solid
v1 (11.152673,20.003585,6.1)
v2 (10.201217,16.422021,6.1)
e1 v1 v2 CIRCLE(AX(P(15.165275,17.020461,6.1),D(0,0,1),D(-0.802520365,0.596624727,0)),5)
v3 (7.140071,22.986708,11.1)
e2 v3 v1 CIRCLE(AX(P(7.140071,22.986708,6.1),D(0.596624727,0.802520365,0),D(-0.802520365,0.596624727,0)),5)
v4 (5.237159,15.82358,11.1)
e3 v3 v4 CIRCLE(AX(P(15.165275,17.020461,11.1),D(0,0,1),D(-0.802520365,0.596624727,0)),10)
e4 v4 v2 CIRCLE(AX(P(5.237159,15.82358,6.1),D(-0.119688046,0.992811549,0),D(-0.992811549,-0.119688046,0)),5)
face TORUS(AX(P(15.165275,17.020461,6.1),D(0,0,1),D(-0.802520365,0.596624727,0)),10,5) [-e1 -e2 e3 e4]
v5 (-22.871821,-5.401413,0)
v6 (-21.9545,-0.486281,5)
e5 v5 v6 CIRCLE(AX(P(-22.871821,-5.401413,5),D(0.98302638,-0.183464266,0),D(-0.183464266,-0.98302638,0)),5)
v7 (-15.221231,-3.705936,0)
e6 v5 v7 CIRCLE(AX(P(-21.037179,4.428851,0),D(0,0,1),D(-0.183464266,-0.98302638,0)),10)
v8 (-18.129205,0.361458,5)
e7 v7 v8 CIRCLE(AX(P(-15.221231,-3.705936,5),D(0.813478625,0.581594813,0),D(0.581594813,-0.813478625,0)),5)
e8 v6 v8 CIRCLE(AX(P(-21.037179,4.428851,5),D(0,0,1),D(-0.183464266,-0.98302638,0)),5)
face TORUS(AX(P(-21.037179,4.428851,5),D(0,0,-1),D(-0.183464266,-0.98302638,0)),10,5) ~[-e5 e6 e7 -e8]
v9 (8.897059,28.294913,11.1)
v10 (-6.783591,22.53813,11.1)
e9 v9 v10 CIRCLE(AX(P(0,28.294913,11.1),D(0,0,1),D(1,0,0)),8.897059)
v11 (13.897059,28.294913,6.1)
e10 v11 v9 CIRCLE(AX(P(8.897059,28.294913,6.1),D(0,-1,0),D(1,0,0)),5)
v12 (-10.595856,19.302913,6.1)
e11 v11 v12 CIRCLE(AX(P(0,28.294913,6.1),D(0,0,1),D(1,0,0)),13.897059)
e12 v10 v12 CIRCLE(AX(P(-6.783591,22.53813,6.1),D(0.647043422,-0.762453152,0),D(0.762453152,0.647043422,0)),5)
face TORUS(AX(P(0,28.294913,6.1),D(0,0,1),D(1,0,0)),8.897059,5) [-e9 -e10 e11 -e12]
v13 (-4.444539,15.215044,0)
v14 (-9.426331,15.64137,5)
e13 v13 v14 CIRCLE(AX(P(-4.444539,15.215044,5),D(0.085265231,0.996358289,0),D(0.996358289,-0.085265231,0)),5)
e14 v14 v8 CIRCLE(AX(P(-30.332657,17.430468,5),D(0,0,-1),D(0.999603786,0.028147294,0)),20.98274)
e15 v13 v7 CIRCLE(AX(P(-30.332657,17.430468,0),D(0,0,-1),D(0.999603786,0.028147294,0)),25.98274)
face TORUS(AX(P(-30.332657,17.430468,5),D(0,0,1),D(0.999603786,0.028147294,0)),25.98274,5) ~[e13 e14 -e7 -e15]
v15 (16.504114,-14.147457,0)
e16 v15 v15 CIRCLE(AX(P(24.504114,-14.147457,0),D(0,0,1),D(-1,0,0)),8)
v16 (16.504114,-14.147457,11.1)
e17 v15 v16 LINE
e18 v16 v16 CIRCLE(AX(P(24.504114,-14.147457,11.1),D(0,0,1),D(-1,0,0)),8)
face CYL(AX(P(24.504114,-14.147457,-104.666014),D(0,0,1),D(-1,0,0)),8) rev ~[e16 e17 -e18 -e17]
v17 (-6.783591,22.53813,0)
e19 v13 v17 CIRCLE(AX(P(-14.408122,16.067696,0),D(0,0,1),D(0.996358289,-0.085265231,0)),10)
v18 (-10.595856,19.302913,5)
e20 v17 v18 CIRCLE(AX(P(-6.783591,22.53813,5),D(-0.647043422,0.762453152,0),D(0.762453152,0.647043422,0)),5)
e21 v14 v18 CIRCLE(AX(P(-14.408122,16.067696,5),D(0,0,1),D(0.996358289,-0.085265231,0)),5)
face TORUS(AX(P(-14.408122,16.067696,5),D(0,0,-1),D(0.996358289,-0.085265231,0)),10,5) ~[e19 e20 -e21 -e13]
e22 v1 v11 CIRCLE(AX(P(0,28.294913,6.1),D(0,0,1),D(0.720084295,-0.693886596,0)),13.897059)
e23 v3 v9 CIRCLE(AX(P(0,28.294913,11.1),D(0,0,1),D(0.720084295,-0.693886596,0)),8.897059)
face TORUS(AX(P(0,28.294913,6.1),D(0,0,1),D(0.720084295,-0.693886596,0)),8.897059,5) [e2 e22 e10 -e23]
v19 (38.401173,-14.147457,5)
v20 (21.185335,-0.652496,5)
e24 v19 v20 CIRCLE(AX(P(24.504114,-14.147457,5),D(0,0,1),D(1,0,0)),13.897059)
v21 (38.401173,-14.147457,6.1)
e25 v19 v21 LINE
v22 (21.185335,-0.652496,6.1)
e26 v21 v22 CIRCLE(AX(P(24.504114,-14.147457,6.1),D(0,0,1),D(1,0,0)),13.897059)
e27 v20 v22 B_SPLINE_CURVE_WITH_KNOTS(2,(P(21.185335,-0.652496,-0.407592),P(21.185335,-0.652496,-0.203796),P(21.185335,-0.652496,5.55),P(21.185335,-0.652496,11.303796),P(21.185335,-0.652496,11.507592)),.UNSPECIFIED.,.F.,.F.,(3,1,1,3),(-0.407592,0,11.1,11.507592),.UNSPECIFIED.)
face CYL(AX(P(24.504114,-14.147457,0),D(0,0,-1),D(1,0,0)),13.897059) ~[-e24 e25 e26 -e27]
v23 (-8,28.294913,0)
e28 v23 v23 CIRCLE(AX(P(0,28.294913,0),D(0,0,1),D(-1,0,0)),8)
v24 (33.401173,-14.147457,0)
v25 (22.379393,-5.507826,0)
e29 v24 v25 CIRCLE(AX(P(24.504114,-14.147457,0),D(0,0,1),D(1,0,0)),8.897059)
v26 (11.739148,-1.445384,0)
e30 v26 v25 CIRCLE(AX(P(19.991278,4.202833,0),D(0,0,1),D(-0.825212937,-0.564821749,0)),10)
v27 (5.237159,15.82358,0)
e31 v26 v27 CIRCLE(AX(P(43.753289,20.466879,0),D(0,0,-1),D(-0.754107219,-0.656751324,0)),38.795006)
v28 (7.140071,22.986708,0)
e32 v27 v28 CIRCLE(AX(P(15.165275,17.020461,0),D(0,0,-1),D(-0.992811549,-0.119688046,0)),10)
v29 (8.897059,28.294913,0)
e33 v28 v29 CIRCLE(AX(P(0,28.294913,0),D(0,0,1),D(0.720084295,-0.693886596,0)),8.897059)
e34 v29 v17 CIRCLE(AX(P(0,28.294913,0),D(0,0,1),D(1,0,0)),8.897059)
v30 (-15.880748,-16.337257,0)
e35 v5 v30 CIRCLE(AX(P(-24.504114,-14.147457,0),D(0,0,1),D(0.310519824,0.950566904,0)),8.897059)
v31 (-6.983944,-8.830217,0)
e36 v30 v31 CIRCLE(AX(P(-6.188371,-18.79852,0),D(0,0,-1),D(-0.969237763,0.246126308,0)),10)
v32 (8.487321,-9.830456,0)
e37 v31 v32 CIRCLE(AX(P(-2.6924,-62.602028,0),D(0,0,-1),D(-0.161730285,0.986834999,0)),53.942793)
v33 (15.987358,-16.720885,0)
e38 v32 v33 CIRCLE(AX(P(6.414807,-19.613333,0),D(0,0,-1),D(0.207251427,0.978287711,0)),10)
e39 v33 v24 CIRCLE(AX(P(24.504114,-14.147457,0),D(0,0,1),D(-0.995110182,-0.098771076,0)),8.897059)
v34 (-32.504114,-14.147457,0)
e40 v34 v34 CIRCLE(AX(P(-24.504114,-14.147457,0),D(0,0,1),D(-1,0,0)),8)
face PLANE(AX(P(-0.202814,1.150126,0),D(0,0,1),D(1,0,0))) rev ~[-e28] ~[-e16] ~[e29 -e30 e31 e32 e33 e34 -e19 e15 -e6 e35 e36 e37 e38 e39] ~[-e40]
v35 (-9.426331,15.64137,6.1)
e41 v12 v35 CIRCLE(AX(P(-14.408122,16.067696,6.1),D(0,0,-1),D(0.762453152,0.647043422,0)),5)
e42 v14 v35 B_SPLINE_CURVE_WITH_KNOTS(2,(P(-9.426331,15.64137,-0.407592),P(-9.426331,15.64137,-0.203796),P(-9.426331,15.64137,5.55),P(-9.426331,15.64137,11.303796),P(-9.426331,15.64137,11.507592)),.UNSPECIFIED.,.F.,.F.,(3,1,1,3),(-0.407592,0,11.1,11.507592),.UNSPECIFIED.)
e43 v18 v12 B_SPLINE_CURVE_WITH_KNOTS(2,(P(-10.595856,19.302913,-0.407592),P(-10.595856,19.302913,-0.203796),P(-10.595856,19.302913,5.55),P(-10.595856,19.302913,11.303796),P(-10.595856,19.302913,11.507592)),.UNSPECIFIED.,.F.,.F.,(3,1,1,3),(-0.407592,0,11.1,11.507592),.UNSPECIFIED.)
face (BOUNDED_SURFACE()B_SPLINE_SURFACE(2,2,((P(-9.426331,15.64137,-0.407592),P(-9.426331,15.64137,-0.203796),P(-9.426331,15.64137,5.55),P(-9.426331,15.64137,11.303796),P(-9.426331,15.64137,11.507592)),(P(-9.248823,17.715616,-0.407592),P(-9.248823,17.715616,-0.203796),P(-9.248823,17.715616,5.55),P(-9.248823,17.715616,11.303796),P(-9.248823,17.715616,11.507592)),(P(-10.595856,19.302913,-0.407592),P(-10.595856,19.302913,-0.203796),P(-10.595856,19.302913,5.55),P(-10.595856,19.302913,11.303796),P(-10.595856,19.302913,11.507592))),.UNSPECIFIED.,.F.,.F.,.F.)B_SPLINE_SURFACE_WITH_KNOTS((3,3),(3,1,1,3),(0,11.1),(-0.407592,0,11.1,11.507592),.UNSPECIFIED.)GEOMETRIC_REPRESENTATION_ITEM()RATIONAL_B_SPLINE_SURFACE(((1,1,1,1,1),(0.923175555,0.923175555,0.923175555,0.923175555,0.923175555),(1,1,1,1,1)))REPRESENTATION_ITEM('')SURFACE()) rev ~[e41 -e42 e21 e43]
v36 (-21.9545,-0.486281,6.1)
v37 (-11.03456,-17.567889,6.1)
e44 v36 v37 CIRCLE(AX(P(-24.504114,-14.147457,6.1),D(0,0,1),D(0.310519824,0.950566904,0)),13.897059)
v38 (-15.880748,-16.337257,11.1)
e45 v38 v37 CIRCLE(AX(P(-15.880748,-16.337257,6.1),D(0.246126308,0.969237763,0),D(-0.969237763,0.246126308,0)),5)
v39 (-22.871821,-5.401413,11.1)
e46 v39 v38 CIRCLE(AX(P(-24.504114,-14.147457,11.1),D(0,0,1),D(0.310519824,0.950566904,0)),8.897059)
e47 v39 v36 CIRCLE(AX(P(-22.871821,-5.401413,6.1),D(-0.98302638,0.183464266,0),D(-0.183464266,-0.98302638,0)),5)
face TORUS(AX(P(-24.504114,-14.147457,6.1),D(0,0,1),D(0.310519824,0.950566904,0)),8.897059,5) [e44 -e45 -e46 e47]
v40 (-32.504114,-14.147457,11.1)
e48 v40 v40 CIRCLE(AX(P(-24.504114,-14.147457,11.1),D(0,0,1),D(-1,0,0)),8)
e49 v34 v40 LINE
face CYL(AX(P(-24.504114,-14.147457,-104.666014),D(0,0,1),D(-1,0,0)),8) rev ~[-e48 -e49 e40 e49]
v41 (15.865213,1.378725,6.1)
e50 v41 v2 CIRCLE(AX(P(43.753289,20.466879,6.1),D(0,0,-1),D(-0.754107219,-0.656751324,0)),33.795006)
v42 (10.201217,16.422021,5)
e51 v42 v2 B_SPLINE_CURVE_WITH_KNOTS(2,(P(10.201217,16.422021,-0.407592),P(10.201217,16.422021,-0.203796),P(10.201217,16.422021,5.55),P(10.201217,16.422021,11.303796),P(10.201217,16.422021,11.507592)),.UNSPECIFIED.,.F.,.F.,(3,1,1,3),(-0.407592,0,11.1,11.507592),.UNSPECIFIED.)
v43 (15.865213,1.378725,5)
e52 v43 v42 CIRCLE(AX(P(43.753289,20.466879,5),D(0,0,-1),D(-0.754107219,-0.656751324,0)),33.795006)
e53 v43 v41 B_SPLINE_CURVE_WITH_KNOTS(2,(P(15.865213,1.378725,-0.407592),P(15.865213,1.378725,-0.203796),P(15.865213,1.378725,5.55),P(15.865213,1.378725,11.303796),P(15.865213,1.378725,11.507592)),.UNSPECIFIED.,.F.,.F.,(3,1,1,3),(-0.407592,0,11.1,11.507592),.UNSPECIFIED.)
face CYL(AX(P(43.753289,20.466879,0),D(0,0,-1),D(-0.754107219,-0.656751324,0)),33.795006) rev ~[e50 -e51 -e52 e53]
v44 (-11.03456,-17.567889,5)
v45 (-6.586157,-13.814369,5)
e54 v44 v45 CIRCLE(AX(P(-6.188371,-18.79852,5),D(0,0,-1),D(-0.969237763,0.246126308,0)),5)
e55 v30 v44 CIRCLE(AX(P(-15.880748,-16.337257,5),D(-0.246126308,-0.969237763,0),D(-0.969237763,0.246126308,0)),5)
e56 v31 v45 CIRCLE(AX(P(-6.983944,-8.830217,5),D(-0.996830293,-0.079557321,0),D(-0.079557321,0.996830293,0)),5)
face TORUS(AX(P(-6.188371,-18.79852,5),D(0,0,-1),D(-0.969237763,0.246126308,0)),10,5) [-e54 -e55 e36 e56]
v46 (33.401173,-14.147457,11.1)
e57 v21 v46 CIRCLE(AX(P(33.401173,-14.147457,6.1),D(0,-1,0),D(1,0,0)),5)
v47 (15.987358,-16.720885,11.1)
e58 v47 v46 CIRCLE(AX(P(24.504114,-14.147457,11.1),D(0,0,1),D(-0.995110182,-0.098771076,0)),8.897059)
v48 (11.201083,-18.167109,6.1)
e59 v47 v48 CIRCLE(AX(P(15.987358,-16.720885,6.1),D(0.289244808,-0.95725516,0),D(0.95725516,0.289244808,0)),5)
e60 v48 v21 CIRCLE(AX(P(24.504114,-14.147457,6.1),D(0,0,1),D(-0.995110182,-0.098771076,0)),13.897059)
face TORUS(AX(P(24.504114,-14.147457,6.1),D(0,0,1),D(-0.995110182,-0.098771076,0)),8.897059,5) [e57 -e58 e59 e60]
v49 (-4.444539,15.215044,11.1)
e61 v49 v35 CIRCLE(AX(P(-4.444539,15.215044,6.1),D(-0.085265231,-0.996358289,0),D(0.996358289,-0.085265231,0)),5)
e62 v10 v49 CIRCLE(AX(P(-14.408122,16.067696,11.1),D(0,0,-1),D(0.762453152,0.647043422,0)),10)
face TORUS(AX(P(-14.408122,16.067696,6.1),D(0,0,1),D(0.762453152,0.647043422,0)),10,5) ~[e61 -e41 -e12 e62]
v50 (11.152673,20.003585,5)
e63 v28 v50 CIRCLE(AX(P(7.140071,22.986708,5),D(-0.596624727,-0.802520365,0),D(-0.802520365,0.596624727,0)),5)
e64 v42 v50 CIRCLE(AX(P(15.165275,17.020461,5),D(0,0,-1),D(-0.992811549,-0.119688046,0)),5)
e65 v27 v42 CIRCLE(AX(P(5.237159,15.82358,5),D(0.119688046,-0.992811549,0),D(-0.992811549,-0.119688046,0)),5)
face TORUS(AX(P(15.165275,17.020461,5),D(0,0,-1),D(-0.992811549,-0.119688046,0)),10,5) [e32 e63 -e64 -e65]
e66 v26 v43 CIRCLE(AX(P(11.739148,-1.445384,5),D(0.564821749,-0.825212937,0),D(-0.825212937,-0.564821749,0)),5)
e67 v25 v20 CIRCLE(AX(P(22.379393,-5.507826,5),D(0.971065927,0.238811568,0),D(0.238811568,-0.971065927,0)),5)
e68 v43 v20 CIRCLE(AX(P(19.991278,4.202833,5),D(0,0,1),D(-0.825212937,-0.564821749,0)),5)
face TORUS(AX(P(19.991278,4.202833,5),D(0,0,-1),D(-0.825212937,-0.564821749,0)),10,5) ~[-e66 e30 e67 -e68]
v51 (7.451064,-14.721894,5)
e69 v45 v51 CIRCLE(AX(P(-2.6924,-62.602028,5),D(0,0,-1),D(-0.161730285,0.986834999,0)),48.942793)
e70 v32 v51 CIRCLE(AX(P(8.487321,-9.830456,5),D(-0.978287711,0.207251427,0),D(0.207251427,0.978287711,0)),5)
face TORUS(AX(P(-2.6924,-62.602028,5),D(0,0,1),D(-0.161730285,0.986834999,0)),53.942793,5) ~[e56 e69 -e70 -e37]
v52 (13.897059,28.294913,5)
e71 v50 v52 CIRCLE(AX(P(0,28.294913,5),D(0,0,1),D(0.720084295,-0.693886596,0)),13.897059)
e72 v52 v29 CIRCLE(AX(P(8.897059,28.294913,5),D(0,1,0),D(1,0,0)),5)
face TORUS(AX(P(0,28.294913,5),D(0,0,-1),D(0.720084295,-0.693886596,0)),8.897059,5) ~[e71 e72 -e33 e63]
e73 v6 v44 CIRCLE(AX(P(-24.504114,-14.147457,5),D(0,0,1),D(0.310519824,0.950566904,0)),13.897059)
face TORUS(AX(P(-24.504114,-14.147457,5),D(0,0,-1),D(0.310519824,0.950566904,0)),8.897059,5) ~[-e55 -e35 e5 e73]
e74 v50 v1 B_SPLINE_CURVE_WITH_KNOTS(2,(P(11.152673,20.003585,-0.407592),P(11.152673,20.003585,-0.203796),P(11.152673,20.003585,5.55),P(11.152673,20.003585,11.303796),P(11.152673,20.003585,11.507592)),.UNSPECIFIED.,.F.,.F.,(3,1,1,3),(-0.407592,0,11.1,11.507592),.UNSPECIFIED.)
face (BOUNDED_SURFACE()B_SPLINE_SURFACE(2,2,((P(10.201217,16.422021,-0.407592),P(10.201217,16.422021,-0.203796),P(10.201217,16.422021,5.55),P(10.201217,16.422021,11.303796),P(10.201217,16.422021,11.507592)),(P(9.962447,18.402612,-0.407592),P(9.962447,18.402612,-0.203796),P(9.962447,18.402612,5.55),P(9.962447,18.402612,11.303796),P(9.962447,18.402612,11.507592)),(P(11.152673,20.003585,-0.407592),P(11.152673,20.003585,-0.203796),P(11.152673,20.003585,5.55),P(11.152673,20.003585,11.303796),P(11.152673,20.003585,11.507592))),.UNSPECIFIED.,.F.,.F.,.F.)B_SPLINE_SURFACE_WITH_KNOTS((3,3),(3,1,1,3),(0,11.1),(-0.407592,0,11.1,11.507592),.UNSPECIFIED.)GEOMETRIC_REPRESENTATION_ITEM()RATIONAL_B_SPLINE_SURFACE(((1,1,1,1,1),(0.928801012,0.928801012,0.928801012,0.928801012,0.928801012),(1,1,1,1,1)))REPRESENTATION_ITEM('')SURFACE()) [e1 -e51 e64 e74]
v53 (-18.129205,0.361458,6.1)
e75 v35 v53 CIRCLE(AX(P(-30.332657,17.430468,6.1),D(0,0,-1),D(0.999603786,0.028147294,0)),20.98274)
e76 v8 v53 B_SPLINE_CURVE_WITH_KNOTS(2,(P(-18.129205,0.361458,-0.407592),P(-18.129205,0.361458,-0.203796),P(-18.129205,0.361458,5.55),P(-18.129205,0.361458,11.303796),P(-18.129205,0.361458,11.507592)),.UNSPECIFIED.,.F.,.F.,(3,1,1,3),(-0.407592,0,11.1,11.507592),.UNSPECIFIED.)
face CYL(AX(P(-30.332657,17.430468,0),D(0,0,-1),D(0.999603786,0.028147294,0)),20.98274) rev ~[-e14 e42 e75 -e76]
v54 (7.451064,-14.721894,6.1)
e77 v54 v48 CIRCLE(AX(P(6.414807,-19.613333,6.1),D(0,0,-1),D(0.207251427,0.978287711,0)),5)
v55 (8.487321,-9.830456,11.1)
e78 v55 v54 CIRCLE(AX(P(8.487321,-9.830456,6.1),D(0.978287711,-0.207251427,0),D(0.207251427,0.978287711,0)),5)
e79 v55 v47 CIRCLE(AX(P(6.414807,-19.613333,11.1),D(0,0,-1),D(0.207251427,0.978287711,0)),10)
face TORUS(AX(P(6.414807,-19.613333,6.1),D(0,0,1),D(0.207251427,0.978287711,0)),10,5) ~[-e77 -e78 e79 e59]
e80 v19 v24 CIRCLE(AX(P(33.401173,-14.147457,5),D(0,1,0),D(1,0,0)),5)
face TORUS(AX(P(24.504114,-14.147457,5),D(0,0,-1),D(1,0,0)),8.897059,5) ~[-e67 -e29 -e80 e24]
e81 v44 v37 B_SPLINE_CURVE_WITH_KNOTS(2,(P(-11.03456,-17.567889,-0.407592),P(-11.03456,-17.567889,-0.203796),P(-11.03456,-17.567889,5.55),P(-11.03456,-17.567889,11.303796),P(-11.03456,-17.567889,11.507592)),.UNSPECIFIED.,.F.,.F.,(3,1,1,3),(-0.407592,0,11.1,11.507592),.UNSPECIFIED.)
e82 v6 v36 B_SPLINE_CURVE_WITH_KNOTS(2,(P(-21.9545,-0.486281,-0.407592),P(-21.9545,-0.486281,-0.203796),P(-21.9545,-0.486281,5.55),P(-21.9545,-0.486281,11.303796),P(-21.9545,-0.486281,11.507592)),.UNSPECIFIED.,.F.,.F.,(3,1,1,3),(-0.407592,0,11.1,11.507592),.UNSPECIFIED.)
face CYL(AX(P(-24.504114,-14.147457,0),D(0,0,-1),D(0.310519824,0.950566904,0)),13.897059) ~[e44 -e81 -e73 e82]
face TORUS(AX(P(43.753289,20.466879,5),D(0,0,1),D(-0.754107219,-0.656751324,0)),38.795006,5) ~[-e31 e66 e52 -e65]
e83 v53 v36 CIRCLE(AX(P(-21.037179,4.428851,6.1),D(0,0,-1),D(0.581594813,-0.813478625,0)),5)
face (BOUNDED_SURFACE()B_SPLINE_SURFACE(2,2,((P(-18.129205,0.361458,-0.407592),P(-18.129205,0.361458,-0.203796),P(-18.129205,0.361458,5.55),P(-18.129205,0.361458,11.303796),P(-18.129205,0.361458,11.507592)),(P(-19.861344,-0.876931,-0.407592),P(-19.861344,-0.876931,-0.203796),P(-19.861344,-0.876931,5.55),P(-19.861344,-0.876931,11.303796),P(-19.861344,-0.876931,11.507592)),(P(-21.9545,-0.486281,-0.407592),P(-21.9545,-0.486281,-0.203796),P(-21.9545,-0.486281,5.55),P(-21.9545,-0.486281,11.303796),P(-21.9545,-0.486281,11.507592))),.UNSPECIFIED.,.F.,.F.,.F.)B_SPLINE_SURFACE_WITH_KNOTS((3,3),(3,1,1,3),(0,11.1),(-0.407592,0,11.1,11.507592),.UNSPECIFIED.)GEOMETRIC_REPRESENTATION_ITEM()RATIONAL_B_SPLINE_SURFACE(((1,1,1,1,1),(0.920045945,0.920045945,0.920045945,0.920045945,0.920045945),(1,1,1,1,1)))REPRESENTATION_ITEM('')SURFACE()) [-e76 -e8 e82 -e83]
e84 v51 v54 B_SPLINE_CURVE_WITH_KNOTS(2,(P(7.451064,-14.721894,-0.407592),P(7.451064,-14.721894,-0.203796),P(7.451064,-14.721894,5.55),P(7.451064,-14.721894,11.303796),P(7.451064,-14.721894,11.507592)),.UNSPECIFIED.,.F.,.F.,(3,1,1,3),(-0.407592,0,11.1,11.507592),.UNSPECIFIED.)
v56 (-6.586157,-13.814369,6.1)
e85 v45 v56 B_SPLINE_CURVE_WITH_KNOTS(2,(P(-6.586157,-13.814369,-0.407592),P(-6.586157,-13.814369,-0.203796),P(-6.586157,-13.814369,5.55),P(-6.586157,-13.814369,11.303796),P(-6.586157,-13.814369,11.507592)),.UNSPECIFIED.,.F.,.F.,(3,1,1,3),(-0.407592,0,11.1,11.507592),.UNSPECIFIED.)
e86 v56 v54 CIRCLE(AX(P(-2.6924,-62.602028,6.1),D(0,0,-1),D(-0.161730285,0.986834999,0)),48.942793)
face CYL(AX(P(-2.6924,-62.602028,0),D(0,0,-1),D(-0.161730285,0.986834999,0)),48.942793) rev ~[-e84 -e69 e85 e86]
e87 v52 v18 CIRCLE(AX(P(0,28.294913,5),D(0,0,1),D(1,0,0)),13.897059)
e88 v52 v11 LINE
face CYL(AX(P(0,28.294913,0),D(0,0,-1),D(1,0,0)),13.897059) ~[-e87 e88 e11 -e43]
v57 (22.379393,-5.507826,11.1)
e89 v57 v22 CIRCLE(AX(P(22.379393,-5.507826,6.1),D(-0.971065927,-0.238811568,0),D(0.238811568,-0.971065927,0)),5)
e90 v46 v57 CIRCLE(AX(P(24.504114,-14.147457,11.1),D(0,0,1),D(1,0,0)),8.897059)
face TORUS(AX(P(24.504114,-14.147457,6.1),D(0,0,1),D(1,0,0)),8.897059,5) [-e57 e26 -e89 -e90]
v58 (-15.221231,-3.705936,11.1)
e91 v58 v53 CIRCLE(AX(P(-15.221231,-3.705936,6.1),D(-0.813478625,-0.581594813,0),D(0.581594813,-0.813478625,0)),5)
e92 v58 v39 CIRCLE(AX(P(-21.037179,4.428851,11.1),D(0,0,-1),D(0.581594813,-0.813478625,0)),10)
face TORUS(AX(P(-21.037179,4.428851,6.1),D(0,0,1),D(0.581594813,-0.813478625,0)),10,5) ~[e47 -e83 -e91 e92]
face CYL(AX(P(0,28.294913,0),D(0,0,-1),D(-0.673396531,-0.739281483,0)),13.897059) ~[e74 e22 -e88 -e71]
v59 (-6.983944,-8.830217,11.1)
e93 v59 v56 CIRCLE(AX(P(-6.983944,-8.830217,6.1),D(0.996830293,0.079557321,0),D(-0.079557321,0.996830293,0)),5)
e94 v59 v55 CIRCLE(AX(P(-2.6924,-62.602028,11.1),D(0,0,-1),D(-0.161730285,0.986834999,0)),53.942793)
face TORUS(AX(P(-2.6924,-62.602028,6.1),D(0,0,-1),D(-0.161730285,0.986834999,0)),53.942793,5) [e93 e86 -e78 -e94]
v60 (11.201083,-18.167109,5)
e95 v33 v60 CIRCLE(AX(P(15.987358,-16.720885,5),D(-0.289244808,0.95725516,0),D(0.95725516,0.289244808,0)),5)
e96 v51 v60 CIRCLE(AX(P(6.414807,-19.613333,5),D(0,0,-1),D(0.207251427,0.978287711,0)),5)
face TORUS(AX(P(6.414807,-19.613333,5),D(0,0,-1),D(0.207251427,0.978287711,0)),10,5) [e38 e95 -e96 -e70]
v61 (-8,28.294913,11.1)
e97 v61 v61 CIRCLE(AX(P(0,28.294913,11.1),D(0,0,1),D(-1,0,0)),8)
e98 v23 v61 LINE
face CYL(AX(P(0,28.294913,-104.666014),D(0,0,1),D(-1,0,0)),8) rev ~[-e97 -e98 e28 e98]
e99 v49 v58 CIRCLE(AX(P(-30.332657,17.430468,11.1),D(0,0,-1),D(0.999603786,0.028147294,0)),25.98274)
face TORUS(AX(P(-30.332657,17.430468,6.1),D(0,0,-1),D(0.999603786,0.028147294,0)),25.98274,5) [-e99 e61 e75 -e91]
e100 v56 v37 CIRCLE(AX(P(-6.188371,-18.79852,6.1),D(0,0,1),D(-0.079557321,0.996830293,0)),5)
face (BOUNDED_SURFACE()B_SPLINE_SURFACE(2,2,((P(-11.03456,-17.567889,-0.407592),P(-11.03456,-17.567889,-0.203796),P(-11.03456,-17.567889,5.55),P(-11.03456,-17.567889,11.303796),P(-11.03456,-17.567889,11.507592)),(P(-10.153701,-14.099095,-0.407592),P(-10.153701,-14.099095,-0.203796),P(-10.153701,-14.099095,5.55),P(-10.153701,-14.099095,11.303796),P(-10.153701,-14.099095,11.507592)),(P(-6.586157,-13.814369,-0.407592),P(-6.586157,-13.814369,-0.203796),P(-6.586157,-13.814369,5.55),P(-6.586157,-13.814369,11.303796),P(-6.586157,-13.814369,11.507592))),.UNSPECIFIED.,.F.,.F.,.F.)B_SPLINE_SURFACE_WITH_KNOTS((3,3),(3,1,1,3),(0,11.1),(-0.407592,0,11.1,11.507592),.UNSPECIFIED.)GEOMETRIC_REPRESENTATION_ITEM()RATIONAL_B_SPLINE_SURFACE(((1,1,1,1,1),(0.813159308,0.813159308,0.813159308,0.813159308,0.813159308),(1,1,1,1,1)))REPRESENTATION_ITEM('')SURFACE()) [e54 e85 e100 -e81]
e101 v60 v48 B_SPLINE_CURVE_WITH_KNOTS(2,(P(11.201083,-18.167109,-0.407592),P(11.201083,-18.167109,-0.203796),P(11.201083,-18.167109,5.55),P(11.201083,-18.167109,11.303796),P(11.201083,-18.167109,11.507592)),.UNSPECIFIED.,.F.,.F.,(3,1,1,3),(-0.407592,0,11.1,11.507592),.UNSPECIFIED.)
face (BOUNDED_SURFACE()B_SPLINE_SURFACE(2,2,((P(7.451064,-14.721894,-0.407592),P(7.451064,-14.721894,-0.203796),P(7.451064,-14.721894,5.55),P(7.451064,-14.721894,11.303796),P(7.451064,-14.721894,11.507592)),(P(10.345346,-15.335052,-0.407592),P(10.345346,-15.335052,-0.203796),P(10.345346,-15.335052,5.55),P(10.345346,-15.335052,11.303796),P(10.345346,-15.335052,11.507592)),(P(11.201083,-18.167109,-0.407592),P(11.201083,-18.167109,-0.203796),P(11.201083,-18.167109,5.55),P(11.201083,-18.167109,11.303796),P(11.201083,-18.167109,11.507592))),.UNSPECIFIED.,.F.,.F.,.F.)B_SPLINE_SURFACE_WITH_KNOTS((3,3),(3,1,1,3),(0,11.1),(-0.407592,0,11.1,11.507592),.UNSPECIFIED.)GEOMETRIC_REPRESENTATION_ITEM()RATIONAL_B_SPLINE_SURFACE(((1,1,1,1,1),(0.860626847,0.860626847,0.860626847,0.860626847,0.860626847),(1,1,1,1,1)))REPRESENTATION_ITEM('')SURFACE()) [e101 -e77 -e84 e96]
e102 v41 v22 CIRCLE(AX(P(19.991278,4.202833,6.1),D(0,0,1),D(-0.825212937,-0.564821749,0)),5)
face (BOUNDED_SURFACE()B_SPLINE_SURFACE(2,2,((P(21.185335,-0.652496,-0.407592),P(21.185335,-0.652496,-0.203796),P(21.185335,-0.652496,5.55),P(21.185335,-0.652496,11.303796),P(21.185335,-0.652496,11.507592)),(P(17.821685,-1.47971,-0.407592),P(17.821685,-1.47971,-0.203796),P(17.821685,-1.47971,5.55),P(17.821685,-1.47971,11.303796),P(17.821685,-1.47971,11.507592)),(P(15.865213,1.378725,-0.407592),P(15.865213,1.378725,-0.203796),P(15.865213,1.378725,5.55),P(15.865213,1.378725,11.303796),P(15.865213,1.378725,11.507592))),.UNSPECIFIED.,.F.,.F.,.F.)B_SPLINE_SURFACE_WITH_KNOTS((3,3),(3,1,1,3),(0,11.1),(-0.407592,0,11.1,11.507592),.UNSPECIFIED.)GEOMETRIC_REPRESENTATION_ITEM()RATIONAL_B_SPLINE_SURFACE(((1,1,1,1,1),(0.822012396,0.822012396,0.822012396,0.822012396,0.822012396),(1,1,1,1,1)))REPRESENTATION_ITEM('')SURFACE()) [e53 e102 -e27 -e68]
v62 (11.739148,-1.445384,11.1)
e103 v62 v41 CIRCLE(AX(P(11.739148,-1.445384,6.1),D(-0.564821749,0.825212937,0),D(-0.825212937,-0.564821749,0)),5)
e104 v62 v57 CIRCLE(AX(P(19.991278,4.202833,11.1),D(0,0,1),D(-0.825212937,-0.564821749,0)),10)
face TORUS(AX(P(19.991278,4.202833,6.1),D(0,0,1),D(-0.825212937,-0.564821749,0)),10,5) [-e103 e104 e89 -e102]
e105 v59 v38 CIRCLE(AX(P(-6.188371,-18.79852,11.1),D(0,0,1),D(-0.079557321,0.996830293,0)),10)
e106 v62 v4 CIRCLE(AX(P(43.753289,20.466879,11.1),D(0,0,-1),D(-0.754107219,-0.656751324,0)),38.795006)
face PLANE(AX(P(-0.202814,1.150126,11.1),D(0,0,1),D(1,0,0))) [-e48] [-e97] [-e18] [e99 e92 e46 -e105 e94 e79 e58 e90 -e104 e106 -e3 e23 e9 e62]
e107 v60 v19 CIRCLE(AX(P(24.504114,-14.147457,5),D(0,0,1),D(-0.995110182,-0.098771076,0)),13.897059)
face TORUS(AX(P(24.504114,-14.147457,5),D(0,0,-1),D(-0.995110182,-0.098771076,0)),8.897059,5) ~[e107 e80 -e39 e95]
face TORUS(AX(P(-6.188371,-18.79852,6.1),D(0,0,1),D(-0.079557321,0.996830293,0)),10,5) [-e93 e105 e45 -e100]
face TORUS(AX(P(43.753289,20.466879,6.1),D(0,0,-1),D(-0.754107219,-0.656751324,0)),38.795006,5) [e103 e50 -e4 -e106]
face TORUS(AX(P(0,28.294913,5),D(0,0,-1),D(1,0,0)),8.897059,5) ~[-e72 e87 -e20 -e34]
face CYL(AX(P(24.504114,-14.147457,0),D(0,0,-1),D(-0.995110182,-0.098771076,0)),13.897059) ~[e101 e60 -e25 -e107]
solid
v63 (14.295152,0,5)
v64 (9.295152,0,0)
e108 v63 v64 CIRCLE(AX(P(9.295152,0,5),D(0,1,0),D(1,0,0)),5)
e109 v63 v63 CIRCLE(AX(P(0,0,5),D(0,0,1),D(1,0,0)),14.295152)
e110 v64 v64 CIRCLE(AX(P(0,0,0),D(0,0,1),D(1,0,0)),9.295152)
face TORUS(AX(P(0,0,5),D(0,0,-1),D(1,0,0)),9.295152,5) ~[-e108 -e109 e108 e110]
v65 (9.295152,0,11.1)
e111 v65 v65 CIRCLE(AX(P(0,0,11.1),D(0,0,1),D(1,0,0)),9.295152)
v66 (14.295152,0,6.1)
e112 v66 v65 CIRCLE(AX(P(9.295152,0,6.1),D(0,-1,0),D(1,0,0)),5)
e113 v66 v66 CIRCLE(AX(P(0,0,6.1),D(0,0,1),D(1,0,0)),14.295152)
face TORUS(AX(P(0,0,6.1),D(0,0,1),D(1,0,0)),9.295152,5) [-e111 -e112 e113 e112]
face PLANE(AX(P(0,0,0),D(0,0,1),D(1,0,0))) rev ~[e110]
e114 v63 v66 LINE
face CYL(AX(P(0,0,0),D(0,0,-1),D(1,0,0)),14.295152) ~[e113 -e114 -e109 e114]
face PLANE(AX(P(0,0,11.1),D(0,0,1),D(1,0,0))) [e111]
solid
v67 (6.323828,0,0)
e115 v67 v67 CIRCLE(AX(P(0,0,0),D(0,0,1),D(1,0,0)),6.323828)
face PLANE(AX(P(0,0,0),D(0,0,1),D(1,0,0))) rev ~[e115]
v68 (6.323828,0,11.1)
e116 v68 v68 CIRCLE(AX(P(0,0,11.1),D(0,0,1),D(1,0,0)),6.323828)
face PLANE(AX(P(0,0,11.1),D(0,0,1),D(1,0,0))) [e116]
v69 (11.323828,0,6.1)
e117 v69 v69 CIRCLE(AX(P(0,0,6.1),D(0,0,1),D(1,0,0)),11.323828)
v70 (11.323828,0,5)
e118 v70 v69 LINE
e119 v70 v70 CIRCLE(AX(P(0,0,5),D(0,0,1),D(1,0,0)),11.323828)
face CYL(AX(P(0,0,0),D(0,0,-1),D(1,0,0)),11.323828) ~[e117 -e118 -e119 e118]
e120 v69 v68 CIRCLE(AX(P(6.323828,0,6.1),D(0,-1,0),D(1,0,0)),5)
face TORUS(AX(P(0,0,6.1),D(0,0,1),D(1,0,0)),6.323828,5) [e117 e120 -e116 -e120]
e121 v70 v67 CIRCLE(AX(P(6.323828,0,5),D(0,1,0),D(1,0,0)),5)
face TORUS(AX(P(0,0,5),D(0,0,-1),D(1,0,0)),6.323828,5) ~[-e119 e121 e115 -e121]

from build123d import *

# Parameters (mm, degrees)
F1_R     = 14.2951519795
F3_DEPTH = 11.1
F0_R     = 11.3238281305
F2_R     = 10.8114032624
F4_R     = 5
F4_2_R   = 5
F4_3_R   = 5
F5_D     = 16


with BuildPart() as f3:
    # F1 (on Top) → F3 (new body)
    with BuildSketch(Plane.XY):
        Circle(F1_R)
    extrude(amount=F3_DEPTH)

    # F4#2
    f4_2_edges = [f3.edges().sort_by_distance(p)[0] for p in [
        (-14.295152, 0, 11.1),
        (14.295152, 0, 5.55),
        (-14.295152, 0, 0),
    ]]
    fillet(f4_2_edges, radius=F4_2_R)


with BuildPart() as f3b:
    # F0 (on Top) → F3, piece 2 (new body)
    with BuildSketch(Plane.XY):
        Circle(F0_R)
    extrude(amount=F3_DEPTH)

    # F4#3
    f4_3_edges = [f3b.edges().sort_by_distance(p)[0] for p in [
        (11.323828, 0, 5.55),
        (-11.323828, 0, 0),
        (-11.323828, 0, 11.1),
    ]]
    fillet(f4_3_edges, radius=F4_3_R)


with BuildPart() as f3c:
    # F2 (on Top) → F3, piece 3 (new body)
    with BuildSketch(Plane.XY):
        with BuildLine():
            ThreePointArc((10.0070538474, 18.6519305897), (0.4524790982, 14.4052227538), (-9.3582312442, 18.0210751652))
            ThreePointArc((-9.3582312442, 18.0210751652), (-12.1133667208, 7.022162649), (-20.1888015839, -0.9373725011))
            ThreePointArc((-20.1888015839, -0.9373725011), (-13.2547051149, -5.9878581942), (-10.6070549823, -14.1474567354))
            ThreePointArc((-10.6070549823, -14.1474567354), (-10.6072741936, -14.2255127111), (-10.6079318204, -14.3035662244))
            ThreePointArc((-10.6079318204, -14.3035662244), (0.1005769764, -13.7389914966), (10.6750090692, -15.5200841919))
            ThreePointArc((10.6750090692, -15.5200841919), (12.3301219096, -7.4450567582), (18.2682310615, -1.7280360071))
            ThreePointArc((18.2682310615, -1.7280360071), (12.4336102027, 7.7712046278), (10.0070538474, 18.6519305897))
        make_face()
        with BuildLine():
            ThreePointArc((10.0070538474, 18.6519305897), (12.8879180261, 23.0958929378), (13.8970588812, 28.2949134707))
            ThreePointArc((13.8970588812, 28.2949134707), (-5.6158861689, 41.0067216854), (-9.3582312442, 18.0210751652))
            ThreePointArc((-9.3582312442, 18.0210751652), (0.4524790982, 14.4052227538), (10.0070538474, 18.6519305897))
        make_face()
        with Locations((0, 28.2949134707)):
            Circle(F2_R, mode=Mode.SUBTRACT)
        with BuildLine():
            ThreePointArc((-10.6070549823, -14.1474567354), (-13.2547051149, -5.9878581942), (-20.1888015839, -0.9373725011))
            ThreePointArc((-20.1888015839, -0.9373725011), (-35.7991753963, -22.2437417179), (-10.6079318204, -14.3035662244))
            ThreePointArc((-10.6079318204, -14.3035662244), (-10.6072741936, -14.2255127111), (-10.6070549823, -14.1474567354))
        make_face()
        with Locations((-24.5041138635, -14.1474567354)):
            Circle(F2_R, mode=Mode.SUBTRACT)
        with BuildLine():
            ThreePointArc((38.4011727448, -14.1474567354), (31.8002709024, -2.3197630459), (18.2682310615, -1.7280360071))
            ThreePointArc((18.2682310615, -1.7280360071), (12.3301219096, -7.4450567582), (10.6750090692, -15.5200841919))
            ThreePointArc((10.6750090692, -15.5200841919), (25.1912681207, -28.0275166983), (38.4011727448, -14.1474567354))
        make_face()
        with Locations((24.5041138635, -14.1474567354)):
            Circle(F2_R, mode=Mode.SUBTRACT)
        with Locations((0, 28.2949134707)):
            Circle(F2_R)
        with Locations((-24.5041138635, -14.1474567354)):
            Circle(F2_R)
        with Locations((24.5041138635, -14.1474567354)):
            Circle(F2_R)
    extrude(amount=F3_DEPTH)

    # F4
    f4_edges = [f3c.edges().sort_by_distance(p)[0] for p in [
        (-9.358231, 18.021075, 5.55),
        (10.007054, 18.651931, 5.55),
        (-12.113367, 7.022163, 0),
        (12.43361, 7.771205, 0),
        (36.678106, -20.849857, 11.1),
        (36.678106, -20.849857, 0),
        (-35.799175, -22.243742, 11.1),
        (-0.452479, 42.184604, 0),
        (-0.452479, 42.184604, 11.1),
        (-20.188802, -0.937373, 5.55),
        (-10.607932, -14.303566, 5.55),
        (-35.799175, -22.243742, 0),
        (10.675009, -15.520084, 5.55),
        (18.268231, -1.728036, 5.55),
        (12.43361, 7.771205, 11.1),
        (-12.113367, 7.022163, 11.1),
        (0.100577, -13.738991, 11.1),
        (0.100577, -13.738991, 0),
    ]]
    fillet(f4_edges, radius=F4_R)

    # F5 (through all)
    with Locations(Plane(origin=(0, 0, 0), x_dir=(1, 0, 0), z_dir=(0, 0, -1))):
        with Locations((24.5041138635, 14.1474567354), (0, -28.2949134707), (-24.5041138635, 14.1474567354)):
            Hole(F5_D / 2)


solid = Compound([f3.part, f3b.part, f3c.part])
